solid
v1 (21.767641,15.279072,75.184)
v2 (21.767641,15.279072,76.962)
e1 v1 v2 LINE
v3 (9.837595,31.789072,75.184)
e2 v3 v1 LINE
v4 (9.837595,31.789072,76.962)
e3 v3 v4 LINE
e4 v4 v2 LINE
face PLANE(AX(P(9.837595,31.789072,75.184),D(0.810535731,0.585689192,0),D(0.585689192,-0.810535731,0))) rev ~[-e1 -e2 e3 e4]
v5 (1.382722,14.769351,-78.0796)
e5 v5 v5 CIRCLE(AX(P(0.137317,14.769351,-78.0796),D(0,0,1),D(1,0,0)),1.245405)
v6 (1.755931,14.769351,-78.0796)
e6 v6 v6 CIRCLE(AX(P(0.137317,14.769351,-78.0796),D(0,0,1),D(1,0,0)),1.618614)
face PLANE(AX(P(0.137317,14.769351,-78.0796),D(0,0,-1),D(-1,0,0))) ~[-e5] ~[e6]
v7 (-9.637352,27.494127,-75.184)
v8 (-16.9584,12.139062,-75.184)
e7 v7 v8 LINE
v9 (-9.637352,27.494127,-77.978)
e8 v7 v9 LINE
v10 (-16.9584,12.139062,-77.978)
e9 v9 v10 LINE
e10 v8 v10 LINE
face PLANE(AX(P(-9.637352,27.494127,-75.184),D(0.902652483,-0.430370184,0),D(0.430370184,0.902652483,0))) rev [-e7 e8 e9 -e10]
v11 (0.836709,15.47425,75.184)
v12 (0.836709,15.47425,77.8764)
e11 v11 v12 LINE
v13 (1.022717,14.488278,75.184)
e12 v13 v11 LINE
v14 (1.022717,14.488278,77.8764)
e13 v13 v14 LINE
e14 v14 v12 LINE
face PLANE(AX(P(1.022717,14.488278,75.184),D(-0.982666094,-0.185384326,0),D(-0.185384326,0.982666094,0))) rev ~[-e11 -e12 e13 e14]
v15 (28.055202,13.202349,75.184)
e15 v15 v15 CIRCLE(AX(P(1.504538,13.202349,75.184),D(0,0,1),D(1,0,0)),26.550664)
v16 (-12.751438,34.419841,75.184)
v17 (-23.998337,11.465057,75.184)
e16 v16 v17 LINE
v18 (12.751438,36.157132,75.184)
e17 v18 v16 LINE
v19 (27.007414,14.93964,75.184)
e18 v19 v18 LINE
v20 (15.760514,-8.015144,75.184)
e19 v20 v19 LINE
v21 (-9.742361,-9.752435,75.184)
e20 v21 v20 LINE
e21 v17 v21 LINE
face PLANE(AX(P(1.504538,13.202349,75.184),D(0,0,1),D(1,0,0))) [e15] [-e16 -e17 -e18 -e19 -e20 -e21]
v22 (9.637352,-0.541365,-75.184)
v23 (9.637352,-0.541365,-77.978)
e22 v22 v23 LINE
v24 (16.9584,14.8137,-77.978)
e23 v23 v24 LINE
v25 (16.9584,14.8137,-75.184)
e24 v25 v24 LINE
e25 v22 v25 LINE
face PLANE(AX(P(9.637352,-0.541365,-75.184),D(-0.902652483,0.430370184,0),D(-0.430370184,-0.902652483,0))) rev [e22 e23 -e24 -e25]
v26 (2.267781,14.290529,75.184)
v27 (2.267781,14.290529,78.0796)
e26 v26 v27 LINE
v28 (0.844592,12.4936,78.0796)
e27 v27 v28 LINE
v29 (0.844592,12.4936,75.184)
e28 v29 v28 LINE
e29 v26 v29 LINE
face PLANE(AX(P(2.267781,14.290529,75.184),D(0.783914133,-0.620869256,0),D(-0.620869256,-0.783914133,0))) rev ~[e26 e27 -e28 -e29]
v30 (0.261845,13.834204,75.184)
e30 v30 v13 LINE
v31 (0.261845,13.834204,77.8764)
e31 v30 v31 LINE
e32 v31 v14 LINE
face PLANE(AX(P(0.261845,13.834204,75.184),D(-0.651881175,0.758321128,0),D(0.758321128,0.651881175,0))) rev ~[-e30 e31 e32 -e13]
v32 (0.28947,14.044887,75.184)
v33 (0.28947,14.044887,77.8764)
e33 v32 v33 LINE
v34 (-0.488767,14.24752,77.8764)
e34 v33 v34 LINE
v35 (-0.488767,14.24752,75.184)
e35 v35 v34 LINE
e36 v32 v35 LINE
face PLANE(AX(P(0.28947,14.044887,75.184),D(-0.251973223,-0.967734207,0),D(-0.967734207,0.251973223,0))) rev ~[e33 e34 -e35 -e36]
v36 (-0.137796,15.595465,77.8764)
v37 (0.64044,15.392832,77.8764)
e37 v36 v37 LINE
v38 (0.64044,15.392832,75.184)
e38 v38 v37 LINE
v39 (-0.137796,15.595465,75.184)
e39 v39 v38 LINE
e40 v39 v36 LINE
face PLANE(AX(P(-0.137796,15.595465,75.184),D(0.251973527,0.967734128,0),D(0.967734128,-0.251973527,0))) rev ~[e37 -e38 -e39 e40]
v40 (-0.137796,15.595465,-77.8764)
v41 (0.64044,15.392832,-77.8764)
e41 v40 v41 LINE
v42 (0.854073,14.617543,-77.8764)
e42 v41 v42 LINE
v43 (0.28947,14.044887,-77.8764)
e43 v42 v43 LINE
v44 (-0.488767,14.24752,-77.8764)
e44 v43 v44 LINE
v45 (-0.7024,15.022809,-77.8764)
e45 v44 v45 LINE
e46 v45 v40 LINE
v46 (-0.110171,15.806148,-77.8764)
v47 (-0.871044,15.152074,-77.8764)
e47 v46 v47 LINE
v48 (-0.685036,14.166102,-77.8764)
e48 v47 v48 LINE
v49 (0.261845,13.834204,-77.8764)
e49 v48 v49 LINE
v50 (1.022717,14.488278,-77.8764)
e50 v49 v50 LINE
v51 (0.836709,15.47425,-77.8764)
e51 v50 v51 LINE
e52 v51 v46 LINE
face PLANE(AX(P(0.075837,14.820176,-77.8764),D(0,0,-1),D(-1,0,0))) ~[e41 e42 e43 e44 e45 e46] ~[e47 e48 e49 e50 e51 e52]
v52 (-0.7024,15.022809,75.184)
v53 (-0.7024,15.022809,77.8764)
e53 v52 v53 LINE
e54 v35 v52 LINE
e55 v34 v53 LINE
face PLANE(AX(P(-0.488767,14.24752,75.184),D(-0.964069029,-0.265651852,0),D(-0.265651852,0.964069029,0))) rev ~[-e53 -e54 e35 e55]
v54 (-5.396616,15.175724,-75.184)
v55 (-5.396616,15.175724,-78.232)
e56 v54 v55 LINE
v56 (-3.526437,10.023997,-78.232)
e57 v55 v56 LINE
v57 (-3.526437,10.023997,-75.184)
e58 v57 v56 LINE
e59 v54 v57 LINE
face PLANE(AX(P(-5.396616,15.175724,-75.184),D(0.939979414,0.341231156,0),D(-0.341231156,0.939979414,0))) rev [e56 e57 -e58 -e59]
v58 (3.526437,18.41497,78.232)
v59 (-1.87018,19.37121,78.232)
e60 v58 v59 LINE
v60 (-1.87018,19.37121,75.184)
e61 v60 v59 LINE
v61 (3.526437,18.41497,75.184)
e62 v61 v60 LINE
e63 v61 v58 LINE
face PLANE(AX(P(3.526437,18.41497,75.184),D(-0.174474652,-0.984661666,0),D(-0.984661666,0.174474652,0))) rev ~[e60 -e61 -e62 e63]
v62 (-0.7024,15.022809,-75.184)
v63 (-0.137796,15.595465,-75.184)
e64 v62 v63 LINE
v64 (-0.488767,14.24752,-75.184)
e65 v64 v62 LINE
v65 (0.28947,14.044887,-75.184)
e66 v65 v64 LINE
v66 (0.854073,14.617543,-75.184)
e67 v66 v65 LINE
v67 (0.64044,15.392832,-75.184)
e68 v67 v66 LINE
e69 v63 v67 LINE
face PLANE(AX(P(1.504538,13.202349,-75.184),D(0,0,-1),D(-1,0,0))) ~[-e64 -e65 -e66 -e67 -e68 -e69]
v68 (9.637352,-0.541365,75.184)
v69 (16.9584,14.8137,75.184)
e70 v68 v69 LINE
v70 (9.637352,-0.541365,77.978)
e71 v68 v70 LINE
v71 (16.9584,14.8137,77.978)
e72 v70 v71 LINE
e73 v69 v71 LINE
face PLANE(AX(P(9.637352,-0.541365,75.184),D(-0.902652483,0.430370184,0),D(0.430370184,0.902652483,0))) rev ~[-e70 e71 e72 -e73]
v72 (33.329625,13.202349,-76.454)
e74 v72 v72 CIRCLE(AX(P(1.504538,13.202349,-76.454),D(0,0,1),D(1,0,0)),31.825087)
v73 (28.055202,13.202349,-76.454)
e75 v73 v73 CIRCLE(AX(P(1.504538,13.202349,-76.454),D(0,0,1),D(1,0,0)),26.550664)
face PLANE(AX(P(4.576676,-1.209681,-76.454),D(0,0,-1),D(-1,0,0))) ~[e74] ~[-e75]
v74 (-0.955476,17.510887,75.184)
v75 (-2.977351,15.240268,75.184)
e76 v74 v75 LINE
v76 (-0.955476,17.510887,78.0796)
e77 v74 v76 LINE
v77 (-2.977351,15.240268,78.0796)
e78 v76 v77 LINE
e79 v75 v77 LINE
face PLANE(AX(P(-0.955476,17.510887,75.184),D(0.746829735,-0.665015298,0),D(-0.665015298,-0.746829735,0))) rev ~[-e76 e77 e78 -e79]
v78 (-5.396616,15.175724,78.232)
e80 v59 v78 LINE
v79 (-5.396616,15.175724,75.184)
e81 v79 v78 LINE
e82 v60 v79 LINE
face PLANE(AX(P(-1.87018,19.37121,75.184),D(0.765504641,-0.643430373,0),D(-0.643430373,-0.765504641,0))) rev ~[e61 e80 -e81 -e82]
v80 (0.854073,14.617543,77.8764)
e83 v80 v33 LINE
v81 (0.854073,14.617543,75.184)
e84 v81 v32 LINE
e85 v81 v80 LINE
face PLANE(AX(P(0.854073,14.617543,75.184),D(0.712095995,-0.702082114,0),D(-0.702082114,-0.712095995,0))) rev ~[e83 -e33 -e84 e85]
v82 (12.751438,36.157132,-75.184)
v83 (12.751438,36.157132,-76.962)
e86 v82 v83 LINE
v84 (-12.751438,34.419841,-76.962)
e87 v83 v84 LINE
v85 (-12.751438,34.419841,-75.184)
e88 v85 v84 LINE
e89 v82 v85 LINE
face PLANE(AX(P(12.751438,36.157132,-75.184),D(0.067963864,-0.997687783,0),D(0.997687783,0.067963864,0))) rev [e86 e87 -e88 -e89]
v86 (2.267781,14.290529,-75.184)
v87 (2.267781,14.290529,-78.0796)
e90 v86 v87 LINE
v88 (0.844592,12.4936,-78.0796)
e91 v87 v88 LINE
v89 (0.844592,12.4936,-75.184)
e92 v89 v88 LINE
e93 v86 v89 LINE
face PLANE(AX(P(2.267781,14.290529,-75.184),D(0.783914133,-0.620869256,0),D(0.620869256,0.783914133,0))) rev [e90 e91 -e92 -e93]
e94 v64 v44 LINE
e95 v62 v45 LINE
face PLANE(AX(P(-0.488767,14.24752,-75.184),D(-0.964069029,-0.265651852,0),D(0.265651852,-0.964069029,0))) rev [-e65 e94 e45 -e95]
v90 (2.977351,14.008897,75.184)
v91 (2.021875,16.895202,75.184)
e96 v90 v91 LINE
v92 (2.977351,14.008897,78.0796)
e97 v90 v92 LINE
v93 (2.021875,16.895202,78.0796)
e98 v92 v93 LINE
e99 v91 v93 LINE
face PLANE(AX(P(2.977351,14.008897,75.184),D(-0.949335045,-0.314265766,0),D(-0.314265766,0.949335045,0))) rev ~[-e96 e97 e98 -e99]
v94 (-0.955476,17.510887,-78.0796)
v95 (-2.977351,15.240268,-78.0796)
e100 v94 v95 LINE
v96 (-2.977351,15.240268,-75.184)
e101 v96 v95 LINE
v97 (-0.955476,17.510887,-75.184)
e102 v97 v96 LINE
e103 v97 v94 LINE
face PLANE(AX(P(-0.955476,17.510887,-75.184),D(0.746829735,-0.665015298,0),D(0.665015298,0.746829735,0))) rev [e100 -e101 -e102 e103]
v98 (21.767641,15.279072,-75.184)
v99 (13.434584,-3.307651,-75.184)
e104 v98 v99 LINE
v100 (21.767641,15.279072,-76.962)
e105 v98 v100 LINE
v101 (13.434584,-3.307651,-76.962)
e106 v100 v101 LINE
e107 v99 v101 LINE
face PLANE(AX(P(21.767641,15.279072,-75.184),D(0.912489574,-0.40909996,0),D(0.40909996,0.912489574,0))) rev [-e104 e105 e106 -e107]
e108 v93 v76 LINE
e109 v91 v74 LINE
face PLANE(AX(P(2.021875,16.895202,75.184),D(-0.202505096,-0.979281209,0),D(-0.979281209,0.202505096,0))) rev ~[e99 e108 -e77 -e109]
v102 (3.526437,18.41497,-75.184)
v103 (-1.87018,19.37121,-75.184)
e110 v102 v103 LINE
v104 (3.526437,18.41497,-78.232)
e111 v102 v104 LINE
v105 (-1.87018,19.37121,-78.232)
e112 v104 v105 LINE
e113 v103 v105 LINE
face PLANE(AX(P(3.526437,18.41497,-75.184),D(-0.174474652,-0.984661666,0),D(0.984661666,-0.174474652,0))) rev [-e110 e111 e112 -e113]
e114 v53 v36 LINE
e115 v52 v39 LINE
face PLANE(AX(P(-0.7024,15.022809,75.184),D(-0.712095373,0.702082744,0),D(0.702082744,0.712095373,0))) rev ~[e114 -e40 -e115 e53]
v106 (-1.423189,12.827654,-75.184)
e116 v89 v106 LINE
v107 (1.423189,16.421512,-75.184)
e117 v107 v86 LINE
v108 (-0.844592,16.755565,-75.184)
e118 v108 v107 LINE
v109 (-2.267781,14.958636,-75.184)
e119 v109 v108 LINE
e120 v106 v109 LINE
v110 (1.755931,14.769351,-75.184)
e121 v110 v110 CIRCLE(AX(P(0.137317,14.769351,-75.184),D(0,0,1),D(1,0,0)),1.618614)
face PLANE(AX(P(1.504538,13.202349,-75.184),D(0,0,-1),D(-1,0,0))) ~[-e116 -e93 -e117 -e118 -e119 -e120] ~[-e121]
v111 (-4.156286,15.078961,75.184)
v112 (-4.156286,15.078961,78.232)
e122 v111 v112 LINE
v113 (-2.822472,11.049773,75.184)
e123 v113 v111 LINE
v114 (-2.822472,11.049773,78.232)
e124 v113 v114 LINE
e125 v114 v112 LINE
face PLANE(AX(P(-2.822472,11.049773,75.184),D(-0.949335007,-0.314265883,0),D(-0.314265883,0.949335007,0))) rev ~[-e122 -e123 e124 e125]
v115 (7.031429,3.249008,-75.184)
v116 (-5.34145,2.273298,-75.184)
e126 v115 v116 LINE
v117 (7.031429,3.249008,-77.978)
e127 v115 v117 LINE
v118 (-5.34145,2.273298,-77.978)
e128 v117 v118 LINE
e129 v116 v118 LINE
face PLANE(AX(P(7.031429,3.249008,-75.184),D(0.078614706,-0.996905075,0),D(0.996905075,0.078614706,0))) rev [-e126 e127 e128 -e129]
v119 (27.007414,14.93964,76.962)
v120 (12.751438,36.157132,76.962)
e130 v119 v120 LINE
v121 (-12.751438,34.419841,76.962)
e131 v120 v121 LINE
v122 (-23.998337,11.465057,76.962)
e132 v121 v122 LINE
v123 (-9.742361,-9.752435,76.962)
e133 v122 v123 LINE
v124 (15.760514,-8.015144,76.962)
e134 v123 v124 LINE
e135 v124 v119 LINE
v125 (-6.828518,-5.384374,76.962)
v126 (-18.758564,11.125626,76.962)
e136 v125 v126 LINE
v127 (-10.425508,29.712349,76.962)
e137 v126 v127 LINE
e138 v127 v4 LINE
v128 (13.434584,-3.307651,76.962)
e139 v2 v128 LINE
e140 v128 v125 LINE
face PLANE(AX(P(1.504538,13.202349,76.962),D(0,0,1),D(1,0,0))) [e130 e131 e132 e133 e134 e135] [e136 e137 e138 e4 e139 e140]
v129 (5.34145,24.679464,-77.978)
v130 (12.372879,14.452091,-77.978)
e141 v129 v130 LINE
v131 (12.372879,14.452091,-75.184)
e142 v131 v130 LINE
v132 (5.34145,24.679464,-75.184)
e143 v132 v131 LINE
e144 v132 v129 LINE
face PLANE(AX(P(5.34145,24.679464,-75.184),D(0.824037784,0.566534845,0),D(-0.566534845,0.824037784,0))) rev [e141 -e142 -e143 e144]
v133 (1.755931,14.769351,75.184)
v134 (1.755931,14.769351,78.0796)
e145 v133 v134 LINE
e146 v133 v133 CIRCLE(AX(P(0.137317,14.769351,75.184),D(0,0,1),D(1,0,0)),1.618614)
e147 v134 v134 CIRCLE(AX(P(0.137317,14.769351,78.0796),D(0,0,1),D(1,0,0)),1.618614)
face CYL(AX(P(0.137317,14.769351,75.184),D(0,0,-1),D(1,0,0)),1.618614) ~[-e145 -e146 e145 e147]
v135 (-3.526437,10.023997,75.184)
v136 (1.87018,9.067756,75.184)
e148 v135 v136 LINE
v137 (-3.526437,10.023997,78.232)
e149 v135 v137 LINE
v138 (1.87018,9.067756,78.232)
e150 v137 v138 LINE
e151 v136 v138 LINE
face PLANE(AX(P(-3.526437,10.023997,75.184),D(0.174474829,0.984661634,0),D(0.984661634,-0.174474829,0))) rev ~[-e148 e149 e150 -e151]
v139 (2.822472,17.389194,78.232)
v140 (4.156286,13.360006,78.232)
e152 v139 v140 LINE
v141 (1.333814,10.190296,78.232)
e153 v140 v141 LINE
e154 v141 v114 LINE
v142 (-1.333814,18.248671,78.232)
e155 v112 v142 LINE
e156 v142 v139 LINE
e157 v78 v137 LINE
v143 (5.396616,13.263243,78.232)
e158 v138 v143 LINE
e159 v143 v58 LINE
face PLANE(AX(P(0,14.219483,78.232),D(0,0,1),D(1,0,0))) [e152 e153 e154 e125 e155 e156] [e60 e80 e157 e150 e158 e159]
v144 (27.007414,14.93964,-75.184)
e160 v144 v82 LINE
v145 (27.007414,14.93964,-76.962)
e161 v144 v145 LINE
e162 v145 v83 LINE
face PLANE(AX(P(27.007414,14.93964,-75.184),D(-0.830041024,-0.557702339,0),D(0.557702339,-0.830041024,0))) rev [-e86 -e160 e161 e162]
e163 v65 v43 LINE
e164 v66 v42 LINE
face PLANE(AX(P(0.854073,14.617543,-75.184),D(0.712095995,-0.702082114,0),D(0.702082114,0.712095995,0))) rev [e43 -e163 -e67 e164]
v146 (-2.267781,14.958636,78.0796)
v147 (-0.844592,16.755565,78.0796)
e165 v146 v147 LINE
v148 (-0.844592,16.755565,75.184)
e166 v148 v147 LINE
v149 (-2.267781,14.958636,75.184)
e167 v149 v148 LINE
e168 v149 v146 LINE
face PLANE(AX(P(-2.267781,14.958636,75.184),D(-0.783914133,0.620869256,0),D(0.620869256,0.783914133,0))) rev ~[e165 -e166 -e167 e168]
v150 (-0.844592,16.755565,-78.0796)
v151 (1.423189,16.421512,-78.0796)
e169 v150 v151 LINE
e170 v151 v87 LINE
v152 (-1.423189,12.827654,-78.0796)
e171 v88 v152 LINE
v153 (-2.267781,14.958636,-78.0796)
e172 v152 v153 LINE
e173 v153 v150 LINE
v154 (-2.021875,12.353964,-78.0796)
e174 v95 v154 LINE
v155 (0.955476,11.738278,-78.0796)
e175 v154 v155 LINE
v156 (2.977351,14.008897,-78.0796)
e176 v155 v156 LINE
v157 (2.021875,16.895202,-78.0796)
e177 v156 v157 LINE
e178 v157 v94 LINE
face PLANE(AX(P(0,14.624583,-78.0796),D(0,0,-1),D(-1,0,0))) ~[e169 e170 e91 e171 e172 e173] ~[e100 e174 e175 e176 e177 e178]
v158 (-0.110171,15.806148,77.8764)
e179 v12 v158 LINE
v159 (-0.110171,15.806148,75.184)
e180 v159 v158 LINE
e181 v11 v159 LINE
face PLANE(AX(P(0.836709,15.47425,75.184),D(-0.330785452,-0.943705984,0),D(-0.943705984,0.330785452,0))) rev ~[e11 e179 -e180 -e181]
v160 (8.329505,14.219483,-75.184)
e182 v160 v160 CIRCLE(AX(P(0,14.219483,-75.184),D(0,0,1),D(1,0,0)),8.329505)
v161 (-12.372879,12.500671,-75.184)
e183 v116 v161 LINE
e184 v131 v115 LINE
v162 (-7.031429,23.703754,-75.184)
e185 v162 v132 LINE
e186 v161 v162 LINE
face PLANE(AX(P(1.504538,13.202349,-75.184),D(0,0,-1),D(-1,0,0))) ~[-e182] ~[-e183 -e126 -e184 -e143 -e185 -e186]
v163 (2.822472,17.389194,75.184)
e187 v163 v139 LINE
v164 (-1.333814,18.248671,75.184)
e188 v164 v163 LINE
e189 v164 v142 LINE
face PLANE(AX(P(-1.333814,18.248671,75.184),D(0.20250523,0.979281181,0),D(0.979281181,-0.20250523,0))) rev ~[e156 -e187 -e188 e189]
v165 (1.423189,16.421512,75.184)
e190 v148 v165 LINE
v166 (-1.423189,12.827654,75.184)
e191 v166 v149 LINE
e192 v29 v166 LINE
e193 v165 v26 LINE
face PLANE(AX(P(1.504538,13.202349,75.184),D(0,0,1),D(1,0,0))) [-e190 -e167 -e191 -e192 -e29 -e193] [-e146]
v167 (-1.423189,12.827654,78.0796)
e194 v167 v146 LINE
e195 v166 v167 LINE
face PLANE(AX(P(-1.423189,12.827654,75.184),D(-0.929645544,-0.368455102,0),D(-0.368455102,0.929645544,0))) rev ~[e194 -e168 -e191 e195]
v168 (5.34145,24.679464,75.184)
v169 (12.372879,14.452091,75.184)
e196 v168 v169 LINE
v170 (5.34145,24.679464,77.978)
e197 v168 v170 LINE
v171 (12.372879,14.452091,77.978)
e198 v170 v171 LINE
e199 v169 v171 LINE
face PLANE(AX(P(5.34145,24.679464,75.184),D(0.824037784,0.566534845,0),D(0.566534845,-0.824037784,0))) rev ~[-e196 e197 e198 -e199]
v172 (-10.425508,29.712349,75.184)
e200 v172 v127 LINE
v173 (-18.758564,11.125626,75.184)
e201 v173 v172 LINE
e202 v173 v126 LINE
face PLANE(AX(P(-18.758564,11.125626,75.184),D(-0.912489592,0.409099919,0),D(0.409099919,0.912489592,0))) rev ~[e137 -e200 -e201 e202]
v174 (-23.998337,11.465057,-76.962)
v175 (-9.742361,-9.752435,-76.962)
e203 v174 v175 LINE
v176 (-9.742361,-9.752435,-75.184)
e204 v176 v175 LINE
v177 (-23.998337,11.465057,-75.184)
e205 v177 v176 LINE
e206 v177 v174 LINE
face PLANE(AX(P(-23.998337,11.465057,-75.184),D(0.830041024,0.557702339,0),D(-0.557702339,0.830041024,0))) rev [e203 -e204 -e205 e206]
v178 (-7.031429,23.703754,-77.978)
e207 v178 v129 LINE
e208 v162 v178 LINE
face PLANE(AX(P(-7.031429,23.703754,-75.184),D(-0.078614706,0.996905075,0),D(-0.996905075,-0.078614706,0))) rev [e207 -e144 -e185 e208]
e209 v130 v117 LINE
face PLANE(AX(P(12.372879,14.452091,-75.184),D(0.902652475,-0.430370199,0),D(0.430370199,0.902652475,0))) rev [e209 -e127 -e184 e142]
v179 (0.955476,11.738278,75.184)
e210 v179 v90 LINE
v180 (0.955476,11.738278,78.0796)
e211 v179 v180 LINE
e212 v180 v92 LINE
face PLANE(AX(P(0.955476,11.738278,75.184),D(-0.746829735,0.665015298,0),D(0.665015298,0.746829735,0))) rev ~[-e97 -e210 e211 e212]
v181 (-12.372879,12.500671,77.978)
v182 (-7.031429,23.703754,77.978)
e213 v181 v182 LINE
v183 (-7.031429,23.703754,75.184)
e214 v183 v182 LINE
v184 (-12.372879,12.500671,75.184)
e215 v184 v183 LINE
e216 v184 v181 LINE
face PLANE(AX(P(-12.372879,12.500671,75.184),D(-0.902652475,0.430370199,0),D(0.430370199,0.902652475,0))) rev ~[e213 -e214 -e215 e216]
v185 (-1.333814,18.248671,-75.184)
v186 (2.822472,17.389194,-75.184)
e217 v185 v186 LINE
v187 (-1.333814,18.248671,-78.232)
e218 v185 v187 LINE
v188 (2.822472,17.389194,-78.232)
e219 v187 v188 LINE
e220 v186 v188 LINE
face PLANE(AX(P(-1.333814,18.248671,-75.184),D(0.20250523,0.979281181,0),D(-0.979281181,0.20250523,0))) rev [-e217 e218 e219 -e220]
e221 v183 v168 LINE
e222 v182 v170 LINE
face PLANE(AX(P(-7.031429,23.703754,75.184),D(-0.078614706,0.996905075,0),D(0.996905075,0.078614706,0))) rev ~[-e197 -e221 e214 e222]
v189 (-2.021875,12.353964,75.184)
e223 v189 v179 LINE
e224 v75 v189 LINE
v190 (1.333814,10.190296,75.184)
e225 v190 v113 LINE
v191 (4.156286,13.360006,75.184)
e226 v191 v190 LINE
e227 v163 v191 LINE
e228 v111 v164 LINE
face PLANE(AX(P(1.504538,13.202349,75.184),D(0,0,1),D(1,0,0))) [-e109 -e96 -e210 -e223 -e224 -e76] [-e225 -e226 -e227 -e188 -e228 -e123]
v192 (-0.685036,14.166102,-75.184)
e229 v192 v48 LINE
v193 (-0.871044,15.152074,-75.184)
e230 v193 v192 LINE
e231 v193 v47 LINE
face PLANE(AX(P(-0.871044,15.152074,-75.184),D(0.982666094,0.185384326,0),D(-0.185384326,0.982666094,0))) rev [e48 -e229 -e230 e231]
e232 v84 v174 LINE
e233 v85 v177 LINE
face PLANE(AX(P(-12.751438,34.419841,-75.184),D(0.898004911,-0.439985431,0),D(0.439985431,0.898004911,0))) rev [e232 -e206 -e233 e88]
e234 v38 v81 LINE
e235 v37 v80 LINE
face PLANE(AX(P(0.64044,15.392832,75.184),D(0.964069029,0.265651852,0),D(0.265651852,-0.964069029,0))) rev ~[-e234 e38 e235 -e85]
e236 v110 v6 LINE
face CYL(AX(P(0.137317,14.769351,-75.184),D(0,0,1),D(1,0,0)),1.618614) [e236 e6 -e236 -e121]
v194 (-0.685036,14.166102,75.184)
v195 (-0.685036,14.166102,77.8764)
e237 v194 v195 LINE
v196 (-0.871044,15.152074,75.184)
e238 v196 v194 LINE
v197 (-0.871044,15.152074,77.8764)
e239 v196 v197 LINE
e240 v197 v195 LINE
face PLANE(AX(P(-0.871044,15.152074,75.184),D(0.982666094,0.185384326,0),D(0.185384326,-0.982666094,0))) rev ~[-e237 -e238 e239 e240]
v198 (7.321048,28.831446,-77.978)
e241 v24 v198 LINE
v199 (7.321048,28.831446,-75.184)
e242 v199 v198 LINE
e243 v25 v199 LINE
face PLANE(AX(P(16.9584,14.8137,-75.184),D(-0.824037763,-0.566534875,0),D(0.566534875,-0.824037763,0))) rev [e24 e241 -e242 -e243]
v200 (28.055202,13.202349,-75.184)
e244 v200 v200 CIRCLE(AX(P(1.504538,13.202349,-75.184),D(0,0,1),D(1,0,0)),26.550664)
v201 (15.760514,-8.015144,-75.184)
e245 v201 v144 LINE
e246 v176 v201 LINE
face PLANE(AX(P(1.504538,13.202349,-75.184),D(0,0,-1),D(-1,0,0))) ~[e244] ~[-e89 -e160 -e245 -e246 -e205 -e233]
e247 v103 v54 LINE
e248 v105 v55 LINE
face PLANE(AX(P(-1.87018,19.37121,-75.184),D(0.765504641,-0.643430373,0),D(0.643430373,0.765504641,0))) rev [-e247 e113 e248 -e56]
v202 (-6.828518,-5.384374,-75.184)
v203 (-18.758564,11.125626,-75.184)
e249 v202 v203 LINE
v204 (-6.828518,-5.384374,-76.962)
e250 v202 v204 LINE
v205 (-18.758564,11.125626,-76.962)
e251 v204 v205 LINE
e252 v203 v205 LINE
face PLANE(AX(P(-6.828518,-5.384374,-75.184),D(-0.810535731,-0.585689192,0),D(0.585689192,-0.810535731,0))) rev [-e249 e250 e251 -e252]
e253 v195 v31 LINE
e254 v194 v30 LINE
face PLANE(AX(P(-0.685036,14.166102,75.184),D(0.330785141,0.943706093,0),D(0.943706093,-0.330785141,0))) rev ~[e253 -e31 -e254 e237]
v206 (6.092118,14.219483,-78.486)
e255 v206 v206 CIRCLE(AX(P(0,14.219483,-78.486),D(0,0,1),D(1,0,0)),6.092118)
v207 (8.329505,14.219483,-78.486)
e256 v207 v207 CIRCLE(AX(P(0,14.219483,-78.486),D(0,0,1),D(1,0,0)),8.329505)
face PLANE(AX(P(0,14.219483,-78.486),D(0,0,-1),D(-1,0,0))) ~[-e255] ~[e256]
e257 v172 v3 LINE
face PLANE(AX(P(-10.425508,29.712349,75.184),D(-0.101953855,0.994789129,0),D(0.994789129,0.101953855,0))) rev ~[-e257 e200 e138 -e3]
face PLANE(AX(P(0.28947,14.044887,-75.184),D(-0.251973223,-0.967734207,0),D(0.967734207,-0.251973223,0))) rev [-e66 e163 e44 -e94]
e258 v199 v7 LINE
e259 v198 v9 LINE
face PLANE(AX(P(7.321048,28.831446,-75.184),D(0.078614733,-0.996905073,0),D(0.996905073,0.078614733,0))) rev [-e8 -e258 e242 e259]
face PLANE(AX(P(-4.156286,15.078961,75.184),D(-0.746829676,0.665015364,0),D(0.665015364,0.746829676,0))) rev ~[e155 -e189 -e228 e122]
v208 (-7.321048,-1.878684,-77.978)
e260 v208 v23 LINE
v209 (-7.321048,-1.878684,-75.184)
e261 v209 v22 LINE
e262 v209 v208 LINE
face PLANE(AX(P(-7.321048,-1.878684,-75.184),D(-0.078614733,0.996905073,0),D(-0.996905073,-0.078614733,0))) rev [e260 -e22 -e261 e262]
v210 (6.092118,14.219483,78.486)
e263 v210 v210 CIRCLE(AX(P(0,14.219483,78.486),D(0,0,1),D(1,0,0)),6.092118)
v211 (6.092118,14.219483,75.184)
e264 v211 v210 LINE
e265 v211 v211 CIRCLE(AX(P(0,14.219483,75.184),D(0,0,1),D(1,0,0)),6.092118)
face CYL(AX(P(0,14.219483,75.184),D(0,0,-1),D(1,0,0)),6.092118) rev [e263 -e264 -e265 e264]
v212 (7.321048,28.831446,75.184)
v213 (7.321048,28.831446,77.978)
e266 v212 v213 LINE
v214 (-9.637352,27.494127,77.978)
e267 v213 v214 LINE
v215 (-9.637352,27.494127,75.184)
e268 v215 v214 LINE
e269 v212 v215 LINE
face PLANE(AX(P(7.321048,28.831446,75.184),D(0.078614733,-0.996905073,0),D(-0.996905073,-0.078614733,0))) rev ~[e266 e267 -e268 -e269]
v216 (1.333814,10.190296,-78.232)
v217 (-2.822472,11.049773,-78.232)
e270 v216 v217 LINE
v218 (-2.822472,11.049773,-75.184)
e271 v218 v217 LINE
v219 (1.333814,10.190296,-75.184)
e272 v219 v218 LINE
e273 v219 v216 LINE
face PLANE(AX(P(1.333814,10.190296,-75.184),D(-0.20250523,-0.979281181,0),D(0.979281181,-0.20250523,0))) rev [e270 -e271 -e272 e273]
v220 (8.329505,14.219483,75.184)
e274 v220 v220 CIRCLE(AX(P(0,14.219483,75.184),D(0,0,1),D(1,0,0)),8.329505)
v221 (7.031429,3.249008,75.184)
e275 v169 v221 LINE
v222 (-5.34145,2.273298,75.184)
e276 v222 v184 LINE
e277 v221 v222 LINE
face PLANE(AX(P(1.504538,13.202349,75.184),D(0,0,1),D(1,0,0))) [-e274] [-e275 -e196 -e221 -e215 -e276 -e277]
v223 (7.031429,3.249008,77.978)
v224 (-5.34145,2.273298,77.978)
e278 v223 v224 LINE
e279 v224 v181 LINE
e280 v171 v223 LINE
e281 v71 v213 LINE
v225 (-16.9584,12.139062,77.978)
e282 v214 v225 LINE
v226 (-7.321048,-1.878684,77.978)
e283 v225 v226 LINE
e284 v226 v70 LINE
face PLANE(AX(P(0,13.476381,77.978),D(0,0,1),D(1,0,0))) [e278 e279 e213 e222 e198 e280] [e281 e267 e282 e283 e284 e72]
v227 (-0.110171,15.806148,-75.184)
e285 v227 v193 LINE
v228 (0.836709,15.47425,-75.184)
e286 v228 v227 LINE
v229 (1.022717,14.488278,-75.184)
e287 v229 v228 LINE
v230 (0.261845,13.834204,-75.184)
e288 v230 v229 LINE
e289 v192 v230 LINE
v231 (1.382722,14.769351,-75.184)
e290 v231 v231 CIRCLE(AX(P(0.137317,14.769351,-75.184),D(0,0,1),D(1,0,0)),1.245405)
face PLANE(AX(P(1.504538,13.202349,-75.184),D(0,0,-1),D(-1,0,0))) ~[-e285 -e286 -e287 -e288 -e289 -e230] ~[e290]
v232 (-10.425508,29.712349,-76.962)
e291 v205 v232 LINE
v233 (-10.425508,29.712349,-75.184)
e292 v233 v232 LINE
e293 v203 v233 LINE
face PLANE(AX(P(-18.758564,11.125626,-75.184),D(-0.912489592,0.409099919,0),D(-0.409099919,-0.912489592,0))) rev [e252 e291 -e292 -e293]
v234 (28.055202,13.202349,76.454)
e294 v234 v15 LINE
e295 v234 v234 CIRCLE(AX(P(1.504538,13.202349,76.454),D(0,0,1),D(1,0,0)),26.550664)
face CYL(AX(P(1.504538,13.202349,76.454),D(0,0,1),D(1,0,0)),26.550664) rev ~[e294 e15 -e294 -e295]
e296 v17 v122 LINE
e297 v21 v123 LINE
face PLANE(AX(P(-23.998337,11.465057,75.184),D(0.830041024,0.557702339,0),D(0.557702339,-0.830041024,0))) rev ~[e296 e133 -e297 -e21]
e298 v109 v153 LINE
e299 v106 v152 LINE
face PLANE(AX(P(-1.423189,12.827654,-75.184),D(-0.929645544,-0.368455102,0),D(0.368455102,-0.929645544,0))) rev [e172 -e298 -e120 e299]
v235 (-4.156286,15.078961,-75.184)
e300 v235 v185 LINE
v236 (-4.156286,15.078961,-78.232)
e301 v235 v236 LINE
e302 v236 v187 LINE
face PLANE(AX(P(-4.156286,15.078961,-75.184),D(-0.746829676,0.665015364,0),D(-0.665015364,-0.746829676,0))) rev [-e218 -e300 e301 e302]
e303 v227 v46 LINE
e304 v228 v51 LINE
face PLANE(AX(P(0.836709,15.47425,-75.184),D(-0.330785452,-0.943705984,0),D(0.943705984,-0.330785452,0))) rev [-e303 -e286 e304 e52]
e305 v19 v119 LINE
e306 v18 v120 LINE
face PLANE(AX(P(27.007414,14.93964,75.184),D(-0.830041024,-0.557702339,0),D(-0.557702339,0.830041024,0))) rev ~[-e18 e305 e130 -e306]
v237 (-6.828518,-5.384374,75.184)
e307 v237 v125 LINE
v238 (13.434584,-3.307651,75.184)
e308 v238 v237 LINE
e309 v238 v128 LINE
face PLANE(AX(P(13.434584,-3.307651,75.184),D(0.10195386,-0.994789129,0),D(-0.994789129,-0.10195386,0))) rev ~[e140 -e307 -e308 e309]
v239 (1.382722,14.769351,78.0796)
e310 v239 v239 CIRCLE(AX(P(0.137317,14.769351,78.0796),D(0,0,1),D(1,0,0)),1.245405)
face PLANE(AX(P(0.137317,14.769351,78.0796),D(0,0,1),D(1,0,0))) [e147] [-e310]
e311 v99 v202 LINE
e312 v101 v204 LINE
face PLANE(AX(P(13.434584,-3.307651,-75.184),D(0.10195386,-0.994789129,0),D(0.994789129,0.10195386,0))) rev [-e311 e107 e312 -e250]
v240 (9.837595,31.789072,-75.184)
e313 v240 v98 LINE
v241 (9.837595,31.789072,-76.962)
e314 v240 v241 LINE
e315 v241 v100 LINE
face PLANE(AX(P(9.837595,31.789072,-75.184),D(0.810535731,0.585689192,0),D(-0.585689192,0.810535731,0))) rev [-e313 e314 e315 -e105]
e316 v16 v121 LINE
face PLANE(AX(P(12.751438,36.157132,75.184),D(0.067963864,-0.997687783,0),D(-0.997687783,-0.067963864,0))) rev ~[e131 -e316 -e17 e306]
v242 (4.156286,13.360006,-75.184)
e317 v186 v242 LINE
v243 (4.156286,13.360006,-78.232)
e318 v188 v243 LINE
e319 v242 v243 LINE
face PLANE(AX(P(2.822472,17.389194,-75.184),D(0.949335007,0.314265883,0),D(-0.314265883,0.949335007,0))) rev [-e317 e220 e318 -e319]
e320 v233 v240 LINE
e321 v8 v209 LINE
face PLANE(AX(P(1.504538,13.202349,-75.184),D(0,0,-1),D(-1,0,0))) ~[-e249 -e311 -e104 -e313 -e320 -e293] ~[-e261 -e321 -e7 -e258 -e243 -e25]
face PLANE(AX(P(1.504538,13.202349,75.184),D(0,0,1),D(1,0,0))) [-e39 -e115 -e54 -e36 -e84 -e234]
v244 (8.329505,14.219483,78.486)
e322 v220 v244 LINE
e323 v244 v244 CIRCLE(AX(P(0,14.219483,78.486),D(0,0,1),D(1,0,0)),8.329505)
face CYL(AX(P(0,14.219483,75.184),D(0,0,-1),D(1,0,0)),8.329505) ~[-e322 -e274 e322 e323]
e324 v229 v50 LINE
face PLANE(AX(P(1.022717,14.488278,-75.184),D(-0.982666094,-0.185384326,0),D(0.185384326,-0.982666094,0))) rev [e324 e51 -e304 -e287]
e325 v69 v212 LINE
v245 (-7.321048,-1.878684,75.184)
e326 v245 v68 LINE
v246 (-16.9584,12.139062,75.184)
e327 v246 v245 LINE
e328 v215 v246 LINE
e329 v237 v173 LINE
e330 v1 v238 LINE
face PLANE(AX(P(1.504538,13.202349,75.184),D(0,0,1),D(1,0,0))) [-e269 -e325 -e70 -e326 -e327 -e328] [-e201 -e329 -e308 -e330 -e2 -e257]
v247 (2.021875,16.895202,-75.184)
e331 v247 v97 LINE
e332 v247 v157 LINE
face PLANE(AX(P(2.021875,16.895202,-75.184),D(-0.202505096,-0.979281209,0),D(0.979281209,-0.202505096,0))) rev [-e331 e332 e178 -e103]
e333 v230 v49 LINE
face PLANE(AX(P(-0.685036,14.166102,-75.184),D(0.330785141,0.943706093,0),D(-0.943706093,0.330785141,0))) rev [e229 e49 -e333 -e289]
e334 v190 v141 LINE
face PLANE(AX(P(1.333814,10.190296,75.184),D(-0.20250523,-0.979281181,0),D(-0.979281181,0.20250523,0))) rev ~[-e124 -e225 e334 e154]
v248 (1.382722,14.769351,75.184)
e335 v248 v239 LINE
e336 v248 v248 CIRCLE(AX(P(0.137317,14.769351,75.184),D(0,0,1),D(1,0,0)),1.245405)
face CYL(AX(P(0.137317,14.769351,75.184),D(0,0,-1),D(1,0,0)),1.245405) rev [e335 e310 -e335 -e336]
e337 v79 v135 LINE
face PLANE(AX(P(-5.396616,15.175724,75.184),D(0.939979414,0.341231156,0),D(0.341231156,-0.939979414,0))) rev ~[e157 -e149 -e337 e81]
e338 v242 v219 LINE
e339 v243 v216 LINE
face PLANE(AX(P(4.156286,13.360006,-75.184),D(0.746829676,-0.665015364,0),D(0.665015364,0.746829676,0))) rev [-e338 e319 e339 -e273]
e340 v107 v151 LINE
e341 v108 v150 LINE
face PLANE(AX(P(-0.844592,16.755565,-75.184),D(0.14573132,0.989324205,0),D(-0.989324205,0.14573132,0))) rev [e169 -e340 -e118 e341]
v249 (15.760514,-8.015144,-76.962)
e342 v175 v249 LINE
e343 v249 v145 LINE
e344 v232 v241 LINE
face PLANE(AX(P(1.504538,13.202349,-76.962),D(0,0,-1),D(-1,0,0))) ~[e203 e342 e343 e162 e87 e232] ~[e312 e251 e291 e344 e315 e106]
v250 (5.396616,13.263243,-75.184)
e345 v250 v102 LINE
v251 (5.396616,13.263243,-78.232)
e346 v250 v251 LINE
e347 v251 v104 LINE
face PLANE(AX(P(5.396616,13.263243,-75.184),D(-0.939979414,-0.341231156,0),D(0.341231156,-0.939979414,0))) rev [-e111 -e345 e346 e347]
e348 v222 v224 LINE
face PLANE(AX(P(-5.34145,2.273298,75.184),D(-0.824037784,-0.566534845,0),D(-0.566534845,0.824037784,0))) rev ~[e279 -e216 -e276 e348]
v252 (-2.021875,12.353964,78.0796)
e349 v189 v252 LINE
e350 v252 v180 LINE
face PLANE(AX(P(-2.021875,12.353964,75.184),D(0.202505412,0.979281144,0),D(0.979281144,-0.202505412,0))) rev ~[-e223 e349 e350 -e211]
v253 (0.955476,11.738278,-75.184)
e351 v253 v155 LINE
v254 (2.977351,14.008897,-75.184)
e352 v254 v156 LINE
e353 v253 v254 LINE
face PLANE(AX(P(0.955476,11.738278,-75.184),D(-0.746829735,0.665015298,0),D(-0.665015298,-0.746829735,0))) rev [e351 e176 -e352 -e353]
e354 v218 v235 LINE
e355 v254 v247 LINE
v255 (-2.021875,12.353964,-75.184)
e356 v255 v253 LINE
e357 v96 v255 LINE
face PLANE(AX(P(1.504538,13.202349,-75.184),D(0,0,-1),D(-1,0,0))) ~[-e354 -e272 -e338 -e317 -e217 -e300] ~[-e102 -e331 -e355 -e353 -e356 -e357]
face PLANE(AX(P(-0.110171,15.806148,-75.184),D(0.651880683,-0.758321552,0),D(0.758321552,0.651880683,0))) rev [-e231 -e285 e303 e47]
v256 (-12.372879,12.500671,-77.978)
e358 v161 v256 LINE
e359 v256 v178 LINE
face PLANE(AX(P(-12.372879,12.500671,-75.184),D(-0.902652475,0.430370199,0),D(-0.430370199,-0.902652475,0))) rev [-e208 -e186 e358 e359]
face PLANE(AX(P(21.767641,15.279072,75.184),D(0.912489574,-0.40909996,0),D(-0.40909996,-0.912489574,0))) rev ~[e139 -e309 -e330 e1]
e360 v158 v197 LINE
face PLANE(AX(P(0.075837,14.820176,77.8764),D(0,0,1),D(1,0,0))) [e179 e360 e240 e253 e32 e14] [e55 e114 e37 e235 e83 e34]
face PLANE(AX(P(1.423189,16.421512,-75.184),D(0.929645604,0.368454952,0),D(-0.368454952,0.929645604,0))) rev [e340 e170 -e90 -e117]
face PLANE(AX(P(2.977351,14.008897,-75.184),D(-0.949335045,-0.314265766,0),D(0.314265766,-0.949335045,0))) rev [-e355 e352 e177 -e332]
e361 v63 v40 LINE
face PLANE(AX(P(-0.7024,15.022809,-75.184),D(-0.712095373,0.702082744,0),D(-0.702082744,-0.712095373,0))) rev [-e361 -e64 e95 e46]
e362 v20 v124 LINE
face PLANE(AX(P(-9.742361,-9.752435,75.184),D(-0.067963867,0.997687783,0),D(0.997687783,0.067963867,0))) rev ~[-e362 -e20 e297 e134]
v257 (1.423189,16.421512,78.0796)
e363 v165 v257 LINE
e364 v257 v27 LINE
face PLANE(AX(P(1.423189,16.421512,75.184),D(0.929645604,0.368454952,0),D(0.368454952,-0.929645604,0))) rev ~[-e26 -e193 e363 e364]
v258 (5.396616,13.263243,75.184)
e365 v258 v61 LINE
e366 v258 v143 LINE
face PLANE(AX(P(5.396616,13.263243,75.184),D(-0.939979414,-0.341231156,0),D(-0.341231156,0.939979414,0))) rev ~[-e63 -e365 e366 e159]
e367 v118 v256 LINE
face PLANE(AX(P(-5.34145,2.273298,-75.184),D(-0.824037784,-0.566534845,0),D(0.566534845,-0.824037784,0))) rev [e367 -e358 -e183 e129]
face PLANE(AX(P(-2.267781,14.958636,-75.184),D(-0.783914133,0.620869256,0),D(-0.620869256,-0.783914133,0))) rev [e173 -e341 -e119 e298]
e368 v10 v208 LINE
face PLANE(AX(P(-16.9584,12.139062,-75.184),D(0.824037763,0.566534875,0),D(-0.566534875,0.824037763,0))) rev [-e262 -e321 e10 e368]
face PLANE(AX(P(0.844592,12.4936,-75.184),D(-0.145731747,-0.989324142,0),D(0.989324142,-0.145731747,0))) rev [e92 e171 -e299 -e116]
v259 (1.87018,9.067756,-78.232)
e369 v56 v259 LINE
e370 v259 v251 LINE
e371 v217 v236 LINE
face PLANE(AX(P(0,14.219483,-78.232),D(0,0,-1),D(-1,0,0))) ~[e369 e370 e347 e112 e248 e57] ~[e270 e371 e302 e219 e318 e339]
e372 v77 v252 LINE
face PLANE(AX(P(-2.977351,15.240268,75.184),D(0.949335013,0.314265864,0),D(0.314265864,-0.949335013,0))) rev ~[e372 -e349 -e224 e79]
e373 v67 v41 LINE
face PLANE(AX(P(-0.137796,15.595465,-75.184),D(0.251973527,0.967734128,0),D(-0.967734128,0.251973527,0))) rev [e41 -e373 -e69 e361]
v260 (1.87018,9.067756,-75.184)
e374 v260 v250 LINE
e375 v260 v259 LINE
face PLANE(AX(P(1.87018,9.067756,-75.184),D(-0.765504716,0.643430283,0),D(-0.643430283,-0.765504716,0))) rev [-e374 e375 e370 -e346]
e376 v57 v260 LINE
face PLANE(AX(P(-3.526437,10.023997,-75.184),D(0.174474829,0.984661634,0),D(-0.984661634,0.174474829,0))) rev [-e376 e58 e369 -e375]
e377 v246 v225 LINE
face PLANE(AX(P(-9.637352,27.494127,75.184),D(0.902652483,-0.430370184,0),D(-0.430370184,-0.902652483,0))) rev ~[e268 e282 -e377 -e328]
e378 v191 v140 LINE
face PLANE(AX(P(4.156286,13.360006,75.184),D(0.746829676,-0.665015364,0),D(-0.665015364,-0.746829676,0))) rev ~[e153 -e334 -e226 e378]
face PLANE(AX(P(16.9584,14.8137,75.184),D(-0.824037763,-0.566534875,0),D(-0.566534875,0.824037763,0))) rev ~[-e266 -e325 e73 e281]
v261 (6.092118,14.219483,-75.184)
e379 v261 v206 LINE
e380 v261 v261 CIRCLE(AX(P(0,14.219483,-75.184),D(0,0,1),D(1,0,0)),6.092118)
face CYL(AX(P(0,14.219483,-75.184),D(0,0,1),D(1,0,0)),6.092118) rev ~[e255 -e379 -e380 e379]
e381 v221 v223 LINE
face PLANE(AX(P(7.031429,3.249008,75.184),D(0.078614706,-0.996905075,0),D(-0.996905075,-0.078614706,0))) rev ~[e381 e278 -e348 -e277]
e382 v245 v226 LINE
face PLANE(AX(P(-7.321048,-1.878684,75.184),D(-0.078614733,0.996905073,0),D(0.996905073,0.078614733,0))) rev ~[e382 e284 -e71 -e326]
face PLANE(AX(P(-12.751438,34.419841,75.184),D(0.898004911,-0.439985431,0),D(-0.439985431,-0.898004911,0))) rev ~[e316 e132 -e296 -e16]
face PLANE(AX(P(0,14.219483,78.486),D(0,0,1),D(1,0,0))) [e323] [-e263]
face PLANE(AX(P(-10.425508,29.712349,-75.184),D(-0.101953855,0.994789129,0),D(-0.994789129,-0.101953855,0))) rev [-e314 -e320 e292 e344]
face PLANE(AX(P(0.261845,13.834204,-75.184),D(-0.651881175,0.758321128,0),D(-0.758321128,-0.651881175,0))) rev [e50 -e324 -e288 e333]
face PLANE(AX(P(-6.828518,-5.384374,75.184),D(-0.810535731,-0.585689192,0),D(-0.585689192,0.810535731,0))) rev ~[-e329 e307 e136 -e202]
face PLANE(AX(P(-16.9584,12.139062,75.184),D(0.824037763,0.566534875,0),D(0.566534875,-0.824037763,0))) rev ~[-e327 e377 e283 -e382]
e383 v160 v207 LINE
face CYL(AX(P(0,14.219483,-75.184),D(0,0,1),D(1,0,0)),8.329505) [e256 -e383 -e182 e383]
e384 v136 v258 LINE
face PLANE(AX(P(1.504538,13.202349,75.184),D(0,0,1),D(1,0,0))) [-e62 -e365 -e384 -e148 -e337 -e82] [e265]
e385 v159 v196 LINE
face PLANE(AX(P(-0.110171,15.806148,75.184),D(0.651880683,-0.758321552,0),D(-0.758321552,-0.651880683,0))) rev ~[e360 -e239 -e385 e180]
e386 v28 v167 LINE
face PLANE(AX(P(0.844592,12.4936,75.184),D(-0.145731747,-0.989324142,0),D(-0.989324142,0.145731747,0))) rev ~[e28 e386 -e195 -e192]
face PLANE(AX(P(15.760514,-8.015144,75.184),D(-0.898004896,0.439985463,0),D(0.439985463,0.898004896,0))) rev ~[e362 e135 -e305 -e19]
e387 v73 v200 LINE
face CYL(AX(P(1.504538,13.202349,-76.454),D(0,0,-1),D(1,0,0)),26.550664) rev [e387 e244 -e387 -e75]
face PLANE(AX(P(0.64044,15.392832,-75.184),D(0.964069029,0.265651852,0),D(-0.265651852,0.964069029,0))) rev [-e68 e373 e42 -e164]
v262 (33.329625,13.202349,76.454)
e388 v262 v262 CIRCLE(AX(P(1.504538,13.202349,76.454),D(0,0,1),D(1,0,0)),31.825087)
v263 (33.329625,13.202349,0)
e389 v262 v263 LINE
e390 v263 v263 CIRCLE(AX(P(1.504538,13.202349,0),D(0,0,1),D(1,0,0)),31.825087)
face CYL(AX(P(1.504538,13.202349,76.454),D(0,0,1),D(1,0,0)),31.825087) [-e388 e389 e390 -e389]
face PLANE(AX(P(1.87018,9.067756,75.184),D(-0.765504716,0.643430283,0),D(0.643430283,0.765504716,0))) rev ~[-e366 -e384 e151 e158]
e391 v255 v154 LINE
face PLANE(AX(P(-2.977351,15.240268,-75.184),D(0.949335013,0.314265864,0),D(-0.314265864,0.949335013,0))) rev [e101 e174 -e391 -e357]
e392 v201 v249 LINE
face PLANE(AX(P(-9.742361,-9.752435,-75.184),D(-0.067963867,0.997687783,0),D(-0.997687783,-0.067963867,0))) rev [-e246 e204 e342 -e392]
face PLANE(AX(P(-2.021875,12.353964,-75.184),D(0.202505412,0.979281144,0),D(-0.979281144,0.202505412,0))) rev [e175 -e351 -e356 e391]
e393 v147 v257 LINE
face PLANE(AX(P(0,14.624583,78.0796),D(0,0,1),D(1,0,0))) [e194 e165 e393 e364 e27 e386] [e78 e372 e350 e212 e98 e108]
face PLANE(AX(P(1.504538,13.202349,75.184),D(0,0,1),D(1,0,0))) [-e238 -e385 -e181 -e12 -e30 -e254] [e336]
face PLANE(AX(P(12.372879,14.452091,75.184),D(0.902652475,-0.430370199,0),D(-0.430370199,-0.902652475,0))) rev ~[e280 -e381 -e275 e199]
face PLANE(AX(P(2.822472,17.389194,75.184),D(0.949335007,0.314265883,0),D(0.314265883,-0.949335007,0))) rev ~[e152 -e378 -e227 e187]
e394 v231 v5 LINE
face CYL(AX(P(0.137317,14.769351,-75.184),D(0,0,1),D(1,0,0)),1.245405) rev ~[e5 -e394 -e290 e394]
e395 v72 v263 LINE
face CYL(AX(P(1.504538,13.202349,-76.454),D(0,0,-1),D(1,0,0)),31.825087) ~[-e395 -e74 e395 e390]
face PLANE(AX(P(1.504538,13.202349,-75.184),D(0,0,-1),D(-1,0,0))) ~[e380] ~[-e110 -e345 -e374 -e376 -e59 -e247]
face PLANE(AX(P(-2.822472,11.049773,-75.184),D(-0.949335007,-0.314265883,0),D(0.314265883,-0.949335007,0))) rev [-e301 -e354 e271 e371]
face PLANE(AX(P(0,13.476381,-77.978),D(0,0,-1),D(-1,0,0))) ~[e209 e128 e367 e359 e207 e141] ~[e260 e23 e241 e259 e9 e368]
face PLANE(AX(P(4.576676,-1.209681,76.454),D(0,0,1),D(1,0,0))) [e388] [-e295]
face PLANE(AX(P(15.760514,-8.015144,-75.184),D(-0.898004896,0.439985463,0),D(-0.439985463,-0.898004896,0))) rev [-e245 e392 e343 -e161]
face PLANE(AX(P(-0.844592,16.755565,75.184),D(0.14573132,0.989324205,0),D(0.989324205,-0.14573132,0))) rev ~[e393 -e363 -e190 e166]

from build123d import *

# Parameters (mm, degrees)
F0_W      = 113.012448
F0_H      = 123.940129
F1_DEPTH  = 76.454
F3_DEPTH  = 101.092
F5_DEPTH  = 99.568
F7_DEPTH  = 103.378
F8_W      = 11.922672
F8_H      = 25.046903
F8_W_2    = 12.908016
F9_DEPTH  = 2.286
F10_R     = 0.621429
F11_DEPTH = 0.6858
F12_R     = 26.550664
F13_DEPTH = 1.27
F15_DEPTH = 1.778
F17_DEPTH = 2.794
F18_R     = 8.329505
F18_R_2   = 6.092118
F19_DEPTH = 3.302
F21_DEPTH = 3.556
F23_DEPTH = 3.048
F25_DEPTH = 2.8956
F26_R     = 1.618614
F26_R_2   = 1.245405
F27_DEPTH = 2.8956
F29_DEPTH = 2.6924
F30_R     = 98.414689
F30_R_2   = 31.825087
F31_DEPTH = 92.964


with BuildPart() as f1:
    # F0 (on Top) → F1 (new body)
    with BuildSketch(Plane.XY):
        with Locations((4.576676, -1.209681)):
            Rectangle(F0_W, F0_H)
    extrude(amount=F1_DEPTH)

    # F2 (on face) → F3 (cut)
    with BuildSketch(Plane.XY.offset(76.454)):
        Polygon((-51.929548, 60.760383), (-51.929548, 0), (-14.090432, 60.760383), align=None)
    extrude(amount=-F3_DEPTH, mode=Mode.SUBTRACT)

    # F4 (on face) → F5 (cut)
    with BuildSketch(Plane.XY.offset(76.454)):
        Polygon((13.499225, 60.760383), (61.0829, 0), (61.0829, 60.760383), align=None)
    extrude(amount=-F5_DEPTH, mode=Mode.SUBTRACT)

    # F6 (on face) → F7 (cut)
    with BuildSketch(Plane.XY.offset(76.454)):
        Polygon((-14.090432, 60.760383), (-51.929548, 0), (-0.295603, 60.760383), align=None)
        Polygon((13.499225, 60.760383), (-0.295603, 60.760383), (61.0829, 0), align=None)
    extrude(amount=-F7_DEPTH, mode=Mode.SUBTRACT)

    # F8 (on face) → F9 (cut)
    with BuildSketch(Plane.XY.offset(76.454)):
        with Locations((-5.961336, -50.656295)):
            Rectangle(F8_W, F8_H)
        with Locations((6.454008, -50.656295)):
            Rectangle(F8_W_2, F8_H)
    extrude(amount=-F9_DEPTH, mode=Mode.SUBTRACT)

    # F10 (on face) → F11 (join)
    with BuildSketch(Plane.XY.offset(74.168)):
        with Locations((-1.345813, -50.279461)):
            Circle(F10_R)
        with Locations((1.885621, -50.238032)):
            Circle(F10_R)
    extrude(amount=F11_DEPTH)

    # F12 (on face) → F13 (cut)
    with BuildSketch(Plane.XY.offset(76.454)):
        with Locations((1.504538, 13.202349)):
            Circle(F12_R)
    extrude(amount=-F13_DEPTH, mode=Mode.SUBTRACT)

    # F14 (on face) → F15 (join)
    with BuildSketch(Plane.XY.offset(75.184)):
        Polygon((12.751438, 36.157132), (-12.751438, 34.419841), (-23.998337, 11.465057), (-9.742361, -9.752435), (15.760514, -8.015144), (27.007414, 14.93964), align=None)
        Polygon((-6.828518, -5.384374), (-18.758564, 11.125626), (-10.425508, 29.712349), (9.837595, 31.789072), (21.767641, 15.279072), (13.434584, -3.307651), align=None, mode=Mode.SUBTRACT)
    extrude(amount=F15_DEPTH)

    # F16 (on face) → F17 (join)
    with BuildSketch(Plane.XY.offset(75.184)):
        Polygon((-16.9584, 12.139062), (-7.321048, -1.878684), (9.637352, -0.541365), (16.9584, 14.8137), (7.321048, 28.831446), (-9.637352, 27.494127), align=None)
        Polygon((7.031429, 3.249008), (-5.34145, 2.273298), (-12.372879, 12.500671), (-7.031429, 23.703754), (5.34145, 24.679464), (12.372879, 14.452091), align=None, mode=Mode.SUBTRACT)
    extrude(amount=F17_DEPTH)

    # F18 (on face) → F19 (join)
    with BuildSketch(Plane.XY.offset(75.184)):
        with Locations((0, 14.219483)):
            Circle(F18_R)
        with Locations((0, 14.219483)):
            Circle(F18_R_2, mode=Mode.SUBTRACT)
    extrude(amount=F19_DEPTH)

    # F20 (on face) → F21 (join)
    with BuildSketch(Plane.XY.offset(75.184)):
        Polygon((-2.917235, 18.868994), (-5.485212, 14.017839), (-2.567977, 9.368329), (2.917235, 9.569973), (5.485212, 14.421128), (2.567977, 19.070638), align=None)
        Polygon((-2.18643, 10.301922), (-4.485922, 14.154206), (-2.299493, 18.071767), (2.18643, 18.137044), (4.485922, 14.28476), (2.299493, 10.367199), align=None, mode=Mode.SUBTRACT)
    extrude(amount=-F21_DEPTH)

    # F22 (on face) → F23 (join)
    with BuildSketch(Plane.XY.offset(75.184)):
        Polygon((-1.87018, 19.37121), (-5.396616, 15.175724), (-3.526437, 10.023997), (1.87018, 9.067756), (5.396616, 13.263243), (3.526437, 18.41497), align=None)
        Polygon((-2.822472, 11.049773), (-4.156286, 15.078961), (-1.333814, 18.248671), (2.822472, 17.389194), (4.156286, 13.360006), (1.333814, 10.190296), align=None, mode=Mode.SUBTRACT)
    extrude(amount=F23_DEPTH)

    # F24 (on face) → F25 (join)
    with BuildSketch(Plane.XY.offset(75.184)):
        Polygon((-0.955476, 17.510887), (-2.977351, 15.240268), (-2.021875, 12.353964), (0.955476, 11.738278), (2.977351, 14.008897), (2.021875, 16.895202), align=None)
        Polygon((-1.423189, 12.827654), (-2.267781, 14.958636), (-0.844592, 16.755565), (1.423189, 16.421512), (2.267781, 14.290529), (0.844592, 12.4936), align=None, mode=Mode.SUBTRACT)
    extrude(amount=F25_DEPTH)

    # F26 (on face) → F27 (join)
    with BuildSketch(Plane.XY.offset(75.184)):
        with Locations((0.137317, 14.769351)):
            Circle(F26_R)
        with Locations((0.137317, 14.769351)):
            Circle(F26_R_2, mode=Mode.SUBTRACT)
    extrude(amount=F27_DEPTH)

    # F28 (on face) → F29 (join)
    with BuildSketch(Plane.XY.offset(75.184)):
        Polygon((-0.110171, 15.806148), (-0.871044, 15.152074), (-0.685036, 14.166102), (0.261845, 13.834204), (1.022717, 14.488278), (0.836709, 15.47425), align=None)
        Polygon((-0.488767, 14.24752), (-0.7024, 15.022809), (-0.137796, 15.595465), (0.64044, 15.392832), (0.854073, 14.617543), (0.28947, 14.044887), align=None, mode=Mode.SUBTRACT)
    extrude(amount=F29_DEPTH)

    # F30 (on face) → F31 (cut)
    with BuildSketch(Plane.XY.offset(76.454)):
        with Locations((1.504538, 13.202349)):
            Circle(F30_R)
        with Locations((1.504538, 13.202349)):
            Circle(F30_R_2, mode=Mode.SUBTRACT)
    extrude(amount=-F31_DEPTH, mode=Mode.SUBTRACT)

    # F32: F1 across plane


with BuildPart() as f1_1:
    add(f1.part)
    add(f1.part.mirror(Plane.XY))


solid = f1_1.part
